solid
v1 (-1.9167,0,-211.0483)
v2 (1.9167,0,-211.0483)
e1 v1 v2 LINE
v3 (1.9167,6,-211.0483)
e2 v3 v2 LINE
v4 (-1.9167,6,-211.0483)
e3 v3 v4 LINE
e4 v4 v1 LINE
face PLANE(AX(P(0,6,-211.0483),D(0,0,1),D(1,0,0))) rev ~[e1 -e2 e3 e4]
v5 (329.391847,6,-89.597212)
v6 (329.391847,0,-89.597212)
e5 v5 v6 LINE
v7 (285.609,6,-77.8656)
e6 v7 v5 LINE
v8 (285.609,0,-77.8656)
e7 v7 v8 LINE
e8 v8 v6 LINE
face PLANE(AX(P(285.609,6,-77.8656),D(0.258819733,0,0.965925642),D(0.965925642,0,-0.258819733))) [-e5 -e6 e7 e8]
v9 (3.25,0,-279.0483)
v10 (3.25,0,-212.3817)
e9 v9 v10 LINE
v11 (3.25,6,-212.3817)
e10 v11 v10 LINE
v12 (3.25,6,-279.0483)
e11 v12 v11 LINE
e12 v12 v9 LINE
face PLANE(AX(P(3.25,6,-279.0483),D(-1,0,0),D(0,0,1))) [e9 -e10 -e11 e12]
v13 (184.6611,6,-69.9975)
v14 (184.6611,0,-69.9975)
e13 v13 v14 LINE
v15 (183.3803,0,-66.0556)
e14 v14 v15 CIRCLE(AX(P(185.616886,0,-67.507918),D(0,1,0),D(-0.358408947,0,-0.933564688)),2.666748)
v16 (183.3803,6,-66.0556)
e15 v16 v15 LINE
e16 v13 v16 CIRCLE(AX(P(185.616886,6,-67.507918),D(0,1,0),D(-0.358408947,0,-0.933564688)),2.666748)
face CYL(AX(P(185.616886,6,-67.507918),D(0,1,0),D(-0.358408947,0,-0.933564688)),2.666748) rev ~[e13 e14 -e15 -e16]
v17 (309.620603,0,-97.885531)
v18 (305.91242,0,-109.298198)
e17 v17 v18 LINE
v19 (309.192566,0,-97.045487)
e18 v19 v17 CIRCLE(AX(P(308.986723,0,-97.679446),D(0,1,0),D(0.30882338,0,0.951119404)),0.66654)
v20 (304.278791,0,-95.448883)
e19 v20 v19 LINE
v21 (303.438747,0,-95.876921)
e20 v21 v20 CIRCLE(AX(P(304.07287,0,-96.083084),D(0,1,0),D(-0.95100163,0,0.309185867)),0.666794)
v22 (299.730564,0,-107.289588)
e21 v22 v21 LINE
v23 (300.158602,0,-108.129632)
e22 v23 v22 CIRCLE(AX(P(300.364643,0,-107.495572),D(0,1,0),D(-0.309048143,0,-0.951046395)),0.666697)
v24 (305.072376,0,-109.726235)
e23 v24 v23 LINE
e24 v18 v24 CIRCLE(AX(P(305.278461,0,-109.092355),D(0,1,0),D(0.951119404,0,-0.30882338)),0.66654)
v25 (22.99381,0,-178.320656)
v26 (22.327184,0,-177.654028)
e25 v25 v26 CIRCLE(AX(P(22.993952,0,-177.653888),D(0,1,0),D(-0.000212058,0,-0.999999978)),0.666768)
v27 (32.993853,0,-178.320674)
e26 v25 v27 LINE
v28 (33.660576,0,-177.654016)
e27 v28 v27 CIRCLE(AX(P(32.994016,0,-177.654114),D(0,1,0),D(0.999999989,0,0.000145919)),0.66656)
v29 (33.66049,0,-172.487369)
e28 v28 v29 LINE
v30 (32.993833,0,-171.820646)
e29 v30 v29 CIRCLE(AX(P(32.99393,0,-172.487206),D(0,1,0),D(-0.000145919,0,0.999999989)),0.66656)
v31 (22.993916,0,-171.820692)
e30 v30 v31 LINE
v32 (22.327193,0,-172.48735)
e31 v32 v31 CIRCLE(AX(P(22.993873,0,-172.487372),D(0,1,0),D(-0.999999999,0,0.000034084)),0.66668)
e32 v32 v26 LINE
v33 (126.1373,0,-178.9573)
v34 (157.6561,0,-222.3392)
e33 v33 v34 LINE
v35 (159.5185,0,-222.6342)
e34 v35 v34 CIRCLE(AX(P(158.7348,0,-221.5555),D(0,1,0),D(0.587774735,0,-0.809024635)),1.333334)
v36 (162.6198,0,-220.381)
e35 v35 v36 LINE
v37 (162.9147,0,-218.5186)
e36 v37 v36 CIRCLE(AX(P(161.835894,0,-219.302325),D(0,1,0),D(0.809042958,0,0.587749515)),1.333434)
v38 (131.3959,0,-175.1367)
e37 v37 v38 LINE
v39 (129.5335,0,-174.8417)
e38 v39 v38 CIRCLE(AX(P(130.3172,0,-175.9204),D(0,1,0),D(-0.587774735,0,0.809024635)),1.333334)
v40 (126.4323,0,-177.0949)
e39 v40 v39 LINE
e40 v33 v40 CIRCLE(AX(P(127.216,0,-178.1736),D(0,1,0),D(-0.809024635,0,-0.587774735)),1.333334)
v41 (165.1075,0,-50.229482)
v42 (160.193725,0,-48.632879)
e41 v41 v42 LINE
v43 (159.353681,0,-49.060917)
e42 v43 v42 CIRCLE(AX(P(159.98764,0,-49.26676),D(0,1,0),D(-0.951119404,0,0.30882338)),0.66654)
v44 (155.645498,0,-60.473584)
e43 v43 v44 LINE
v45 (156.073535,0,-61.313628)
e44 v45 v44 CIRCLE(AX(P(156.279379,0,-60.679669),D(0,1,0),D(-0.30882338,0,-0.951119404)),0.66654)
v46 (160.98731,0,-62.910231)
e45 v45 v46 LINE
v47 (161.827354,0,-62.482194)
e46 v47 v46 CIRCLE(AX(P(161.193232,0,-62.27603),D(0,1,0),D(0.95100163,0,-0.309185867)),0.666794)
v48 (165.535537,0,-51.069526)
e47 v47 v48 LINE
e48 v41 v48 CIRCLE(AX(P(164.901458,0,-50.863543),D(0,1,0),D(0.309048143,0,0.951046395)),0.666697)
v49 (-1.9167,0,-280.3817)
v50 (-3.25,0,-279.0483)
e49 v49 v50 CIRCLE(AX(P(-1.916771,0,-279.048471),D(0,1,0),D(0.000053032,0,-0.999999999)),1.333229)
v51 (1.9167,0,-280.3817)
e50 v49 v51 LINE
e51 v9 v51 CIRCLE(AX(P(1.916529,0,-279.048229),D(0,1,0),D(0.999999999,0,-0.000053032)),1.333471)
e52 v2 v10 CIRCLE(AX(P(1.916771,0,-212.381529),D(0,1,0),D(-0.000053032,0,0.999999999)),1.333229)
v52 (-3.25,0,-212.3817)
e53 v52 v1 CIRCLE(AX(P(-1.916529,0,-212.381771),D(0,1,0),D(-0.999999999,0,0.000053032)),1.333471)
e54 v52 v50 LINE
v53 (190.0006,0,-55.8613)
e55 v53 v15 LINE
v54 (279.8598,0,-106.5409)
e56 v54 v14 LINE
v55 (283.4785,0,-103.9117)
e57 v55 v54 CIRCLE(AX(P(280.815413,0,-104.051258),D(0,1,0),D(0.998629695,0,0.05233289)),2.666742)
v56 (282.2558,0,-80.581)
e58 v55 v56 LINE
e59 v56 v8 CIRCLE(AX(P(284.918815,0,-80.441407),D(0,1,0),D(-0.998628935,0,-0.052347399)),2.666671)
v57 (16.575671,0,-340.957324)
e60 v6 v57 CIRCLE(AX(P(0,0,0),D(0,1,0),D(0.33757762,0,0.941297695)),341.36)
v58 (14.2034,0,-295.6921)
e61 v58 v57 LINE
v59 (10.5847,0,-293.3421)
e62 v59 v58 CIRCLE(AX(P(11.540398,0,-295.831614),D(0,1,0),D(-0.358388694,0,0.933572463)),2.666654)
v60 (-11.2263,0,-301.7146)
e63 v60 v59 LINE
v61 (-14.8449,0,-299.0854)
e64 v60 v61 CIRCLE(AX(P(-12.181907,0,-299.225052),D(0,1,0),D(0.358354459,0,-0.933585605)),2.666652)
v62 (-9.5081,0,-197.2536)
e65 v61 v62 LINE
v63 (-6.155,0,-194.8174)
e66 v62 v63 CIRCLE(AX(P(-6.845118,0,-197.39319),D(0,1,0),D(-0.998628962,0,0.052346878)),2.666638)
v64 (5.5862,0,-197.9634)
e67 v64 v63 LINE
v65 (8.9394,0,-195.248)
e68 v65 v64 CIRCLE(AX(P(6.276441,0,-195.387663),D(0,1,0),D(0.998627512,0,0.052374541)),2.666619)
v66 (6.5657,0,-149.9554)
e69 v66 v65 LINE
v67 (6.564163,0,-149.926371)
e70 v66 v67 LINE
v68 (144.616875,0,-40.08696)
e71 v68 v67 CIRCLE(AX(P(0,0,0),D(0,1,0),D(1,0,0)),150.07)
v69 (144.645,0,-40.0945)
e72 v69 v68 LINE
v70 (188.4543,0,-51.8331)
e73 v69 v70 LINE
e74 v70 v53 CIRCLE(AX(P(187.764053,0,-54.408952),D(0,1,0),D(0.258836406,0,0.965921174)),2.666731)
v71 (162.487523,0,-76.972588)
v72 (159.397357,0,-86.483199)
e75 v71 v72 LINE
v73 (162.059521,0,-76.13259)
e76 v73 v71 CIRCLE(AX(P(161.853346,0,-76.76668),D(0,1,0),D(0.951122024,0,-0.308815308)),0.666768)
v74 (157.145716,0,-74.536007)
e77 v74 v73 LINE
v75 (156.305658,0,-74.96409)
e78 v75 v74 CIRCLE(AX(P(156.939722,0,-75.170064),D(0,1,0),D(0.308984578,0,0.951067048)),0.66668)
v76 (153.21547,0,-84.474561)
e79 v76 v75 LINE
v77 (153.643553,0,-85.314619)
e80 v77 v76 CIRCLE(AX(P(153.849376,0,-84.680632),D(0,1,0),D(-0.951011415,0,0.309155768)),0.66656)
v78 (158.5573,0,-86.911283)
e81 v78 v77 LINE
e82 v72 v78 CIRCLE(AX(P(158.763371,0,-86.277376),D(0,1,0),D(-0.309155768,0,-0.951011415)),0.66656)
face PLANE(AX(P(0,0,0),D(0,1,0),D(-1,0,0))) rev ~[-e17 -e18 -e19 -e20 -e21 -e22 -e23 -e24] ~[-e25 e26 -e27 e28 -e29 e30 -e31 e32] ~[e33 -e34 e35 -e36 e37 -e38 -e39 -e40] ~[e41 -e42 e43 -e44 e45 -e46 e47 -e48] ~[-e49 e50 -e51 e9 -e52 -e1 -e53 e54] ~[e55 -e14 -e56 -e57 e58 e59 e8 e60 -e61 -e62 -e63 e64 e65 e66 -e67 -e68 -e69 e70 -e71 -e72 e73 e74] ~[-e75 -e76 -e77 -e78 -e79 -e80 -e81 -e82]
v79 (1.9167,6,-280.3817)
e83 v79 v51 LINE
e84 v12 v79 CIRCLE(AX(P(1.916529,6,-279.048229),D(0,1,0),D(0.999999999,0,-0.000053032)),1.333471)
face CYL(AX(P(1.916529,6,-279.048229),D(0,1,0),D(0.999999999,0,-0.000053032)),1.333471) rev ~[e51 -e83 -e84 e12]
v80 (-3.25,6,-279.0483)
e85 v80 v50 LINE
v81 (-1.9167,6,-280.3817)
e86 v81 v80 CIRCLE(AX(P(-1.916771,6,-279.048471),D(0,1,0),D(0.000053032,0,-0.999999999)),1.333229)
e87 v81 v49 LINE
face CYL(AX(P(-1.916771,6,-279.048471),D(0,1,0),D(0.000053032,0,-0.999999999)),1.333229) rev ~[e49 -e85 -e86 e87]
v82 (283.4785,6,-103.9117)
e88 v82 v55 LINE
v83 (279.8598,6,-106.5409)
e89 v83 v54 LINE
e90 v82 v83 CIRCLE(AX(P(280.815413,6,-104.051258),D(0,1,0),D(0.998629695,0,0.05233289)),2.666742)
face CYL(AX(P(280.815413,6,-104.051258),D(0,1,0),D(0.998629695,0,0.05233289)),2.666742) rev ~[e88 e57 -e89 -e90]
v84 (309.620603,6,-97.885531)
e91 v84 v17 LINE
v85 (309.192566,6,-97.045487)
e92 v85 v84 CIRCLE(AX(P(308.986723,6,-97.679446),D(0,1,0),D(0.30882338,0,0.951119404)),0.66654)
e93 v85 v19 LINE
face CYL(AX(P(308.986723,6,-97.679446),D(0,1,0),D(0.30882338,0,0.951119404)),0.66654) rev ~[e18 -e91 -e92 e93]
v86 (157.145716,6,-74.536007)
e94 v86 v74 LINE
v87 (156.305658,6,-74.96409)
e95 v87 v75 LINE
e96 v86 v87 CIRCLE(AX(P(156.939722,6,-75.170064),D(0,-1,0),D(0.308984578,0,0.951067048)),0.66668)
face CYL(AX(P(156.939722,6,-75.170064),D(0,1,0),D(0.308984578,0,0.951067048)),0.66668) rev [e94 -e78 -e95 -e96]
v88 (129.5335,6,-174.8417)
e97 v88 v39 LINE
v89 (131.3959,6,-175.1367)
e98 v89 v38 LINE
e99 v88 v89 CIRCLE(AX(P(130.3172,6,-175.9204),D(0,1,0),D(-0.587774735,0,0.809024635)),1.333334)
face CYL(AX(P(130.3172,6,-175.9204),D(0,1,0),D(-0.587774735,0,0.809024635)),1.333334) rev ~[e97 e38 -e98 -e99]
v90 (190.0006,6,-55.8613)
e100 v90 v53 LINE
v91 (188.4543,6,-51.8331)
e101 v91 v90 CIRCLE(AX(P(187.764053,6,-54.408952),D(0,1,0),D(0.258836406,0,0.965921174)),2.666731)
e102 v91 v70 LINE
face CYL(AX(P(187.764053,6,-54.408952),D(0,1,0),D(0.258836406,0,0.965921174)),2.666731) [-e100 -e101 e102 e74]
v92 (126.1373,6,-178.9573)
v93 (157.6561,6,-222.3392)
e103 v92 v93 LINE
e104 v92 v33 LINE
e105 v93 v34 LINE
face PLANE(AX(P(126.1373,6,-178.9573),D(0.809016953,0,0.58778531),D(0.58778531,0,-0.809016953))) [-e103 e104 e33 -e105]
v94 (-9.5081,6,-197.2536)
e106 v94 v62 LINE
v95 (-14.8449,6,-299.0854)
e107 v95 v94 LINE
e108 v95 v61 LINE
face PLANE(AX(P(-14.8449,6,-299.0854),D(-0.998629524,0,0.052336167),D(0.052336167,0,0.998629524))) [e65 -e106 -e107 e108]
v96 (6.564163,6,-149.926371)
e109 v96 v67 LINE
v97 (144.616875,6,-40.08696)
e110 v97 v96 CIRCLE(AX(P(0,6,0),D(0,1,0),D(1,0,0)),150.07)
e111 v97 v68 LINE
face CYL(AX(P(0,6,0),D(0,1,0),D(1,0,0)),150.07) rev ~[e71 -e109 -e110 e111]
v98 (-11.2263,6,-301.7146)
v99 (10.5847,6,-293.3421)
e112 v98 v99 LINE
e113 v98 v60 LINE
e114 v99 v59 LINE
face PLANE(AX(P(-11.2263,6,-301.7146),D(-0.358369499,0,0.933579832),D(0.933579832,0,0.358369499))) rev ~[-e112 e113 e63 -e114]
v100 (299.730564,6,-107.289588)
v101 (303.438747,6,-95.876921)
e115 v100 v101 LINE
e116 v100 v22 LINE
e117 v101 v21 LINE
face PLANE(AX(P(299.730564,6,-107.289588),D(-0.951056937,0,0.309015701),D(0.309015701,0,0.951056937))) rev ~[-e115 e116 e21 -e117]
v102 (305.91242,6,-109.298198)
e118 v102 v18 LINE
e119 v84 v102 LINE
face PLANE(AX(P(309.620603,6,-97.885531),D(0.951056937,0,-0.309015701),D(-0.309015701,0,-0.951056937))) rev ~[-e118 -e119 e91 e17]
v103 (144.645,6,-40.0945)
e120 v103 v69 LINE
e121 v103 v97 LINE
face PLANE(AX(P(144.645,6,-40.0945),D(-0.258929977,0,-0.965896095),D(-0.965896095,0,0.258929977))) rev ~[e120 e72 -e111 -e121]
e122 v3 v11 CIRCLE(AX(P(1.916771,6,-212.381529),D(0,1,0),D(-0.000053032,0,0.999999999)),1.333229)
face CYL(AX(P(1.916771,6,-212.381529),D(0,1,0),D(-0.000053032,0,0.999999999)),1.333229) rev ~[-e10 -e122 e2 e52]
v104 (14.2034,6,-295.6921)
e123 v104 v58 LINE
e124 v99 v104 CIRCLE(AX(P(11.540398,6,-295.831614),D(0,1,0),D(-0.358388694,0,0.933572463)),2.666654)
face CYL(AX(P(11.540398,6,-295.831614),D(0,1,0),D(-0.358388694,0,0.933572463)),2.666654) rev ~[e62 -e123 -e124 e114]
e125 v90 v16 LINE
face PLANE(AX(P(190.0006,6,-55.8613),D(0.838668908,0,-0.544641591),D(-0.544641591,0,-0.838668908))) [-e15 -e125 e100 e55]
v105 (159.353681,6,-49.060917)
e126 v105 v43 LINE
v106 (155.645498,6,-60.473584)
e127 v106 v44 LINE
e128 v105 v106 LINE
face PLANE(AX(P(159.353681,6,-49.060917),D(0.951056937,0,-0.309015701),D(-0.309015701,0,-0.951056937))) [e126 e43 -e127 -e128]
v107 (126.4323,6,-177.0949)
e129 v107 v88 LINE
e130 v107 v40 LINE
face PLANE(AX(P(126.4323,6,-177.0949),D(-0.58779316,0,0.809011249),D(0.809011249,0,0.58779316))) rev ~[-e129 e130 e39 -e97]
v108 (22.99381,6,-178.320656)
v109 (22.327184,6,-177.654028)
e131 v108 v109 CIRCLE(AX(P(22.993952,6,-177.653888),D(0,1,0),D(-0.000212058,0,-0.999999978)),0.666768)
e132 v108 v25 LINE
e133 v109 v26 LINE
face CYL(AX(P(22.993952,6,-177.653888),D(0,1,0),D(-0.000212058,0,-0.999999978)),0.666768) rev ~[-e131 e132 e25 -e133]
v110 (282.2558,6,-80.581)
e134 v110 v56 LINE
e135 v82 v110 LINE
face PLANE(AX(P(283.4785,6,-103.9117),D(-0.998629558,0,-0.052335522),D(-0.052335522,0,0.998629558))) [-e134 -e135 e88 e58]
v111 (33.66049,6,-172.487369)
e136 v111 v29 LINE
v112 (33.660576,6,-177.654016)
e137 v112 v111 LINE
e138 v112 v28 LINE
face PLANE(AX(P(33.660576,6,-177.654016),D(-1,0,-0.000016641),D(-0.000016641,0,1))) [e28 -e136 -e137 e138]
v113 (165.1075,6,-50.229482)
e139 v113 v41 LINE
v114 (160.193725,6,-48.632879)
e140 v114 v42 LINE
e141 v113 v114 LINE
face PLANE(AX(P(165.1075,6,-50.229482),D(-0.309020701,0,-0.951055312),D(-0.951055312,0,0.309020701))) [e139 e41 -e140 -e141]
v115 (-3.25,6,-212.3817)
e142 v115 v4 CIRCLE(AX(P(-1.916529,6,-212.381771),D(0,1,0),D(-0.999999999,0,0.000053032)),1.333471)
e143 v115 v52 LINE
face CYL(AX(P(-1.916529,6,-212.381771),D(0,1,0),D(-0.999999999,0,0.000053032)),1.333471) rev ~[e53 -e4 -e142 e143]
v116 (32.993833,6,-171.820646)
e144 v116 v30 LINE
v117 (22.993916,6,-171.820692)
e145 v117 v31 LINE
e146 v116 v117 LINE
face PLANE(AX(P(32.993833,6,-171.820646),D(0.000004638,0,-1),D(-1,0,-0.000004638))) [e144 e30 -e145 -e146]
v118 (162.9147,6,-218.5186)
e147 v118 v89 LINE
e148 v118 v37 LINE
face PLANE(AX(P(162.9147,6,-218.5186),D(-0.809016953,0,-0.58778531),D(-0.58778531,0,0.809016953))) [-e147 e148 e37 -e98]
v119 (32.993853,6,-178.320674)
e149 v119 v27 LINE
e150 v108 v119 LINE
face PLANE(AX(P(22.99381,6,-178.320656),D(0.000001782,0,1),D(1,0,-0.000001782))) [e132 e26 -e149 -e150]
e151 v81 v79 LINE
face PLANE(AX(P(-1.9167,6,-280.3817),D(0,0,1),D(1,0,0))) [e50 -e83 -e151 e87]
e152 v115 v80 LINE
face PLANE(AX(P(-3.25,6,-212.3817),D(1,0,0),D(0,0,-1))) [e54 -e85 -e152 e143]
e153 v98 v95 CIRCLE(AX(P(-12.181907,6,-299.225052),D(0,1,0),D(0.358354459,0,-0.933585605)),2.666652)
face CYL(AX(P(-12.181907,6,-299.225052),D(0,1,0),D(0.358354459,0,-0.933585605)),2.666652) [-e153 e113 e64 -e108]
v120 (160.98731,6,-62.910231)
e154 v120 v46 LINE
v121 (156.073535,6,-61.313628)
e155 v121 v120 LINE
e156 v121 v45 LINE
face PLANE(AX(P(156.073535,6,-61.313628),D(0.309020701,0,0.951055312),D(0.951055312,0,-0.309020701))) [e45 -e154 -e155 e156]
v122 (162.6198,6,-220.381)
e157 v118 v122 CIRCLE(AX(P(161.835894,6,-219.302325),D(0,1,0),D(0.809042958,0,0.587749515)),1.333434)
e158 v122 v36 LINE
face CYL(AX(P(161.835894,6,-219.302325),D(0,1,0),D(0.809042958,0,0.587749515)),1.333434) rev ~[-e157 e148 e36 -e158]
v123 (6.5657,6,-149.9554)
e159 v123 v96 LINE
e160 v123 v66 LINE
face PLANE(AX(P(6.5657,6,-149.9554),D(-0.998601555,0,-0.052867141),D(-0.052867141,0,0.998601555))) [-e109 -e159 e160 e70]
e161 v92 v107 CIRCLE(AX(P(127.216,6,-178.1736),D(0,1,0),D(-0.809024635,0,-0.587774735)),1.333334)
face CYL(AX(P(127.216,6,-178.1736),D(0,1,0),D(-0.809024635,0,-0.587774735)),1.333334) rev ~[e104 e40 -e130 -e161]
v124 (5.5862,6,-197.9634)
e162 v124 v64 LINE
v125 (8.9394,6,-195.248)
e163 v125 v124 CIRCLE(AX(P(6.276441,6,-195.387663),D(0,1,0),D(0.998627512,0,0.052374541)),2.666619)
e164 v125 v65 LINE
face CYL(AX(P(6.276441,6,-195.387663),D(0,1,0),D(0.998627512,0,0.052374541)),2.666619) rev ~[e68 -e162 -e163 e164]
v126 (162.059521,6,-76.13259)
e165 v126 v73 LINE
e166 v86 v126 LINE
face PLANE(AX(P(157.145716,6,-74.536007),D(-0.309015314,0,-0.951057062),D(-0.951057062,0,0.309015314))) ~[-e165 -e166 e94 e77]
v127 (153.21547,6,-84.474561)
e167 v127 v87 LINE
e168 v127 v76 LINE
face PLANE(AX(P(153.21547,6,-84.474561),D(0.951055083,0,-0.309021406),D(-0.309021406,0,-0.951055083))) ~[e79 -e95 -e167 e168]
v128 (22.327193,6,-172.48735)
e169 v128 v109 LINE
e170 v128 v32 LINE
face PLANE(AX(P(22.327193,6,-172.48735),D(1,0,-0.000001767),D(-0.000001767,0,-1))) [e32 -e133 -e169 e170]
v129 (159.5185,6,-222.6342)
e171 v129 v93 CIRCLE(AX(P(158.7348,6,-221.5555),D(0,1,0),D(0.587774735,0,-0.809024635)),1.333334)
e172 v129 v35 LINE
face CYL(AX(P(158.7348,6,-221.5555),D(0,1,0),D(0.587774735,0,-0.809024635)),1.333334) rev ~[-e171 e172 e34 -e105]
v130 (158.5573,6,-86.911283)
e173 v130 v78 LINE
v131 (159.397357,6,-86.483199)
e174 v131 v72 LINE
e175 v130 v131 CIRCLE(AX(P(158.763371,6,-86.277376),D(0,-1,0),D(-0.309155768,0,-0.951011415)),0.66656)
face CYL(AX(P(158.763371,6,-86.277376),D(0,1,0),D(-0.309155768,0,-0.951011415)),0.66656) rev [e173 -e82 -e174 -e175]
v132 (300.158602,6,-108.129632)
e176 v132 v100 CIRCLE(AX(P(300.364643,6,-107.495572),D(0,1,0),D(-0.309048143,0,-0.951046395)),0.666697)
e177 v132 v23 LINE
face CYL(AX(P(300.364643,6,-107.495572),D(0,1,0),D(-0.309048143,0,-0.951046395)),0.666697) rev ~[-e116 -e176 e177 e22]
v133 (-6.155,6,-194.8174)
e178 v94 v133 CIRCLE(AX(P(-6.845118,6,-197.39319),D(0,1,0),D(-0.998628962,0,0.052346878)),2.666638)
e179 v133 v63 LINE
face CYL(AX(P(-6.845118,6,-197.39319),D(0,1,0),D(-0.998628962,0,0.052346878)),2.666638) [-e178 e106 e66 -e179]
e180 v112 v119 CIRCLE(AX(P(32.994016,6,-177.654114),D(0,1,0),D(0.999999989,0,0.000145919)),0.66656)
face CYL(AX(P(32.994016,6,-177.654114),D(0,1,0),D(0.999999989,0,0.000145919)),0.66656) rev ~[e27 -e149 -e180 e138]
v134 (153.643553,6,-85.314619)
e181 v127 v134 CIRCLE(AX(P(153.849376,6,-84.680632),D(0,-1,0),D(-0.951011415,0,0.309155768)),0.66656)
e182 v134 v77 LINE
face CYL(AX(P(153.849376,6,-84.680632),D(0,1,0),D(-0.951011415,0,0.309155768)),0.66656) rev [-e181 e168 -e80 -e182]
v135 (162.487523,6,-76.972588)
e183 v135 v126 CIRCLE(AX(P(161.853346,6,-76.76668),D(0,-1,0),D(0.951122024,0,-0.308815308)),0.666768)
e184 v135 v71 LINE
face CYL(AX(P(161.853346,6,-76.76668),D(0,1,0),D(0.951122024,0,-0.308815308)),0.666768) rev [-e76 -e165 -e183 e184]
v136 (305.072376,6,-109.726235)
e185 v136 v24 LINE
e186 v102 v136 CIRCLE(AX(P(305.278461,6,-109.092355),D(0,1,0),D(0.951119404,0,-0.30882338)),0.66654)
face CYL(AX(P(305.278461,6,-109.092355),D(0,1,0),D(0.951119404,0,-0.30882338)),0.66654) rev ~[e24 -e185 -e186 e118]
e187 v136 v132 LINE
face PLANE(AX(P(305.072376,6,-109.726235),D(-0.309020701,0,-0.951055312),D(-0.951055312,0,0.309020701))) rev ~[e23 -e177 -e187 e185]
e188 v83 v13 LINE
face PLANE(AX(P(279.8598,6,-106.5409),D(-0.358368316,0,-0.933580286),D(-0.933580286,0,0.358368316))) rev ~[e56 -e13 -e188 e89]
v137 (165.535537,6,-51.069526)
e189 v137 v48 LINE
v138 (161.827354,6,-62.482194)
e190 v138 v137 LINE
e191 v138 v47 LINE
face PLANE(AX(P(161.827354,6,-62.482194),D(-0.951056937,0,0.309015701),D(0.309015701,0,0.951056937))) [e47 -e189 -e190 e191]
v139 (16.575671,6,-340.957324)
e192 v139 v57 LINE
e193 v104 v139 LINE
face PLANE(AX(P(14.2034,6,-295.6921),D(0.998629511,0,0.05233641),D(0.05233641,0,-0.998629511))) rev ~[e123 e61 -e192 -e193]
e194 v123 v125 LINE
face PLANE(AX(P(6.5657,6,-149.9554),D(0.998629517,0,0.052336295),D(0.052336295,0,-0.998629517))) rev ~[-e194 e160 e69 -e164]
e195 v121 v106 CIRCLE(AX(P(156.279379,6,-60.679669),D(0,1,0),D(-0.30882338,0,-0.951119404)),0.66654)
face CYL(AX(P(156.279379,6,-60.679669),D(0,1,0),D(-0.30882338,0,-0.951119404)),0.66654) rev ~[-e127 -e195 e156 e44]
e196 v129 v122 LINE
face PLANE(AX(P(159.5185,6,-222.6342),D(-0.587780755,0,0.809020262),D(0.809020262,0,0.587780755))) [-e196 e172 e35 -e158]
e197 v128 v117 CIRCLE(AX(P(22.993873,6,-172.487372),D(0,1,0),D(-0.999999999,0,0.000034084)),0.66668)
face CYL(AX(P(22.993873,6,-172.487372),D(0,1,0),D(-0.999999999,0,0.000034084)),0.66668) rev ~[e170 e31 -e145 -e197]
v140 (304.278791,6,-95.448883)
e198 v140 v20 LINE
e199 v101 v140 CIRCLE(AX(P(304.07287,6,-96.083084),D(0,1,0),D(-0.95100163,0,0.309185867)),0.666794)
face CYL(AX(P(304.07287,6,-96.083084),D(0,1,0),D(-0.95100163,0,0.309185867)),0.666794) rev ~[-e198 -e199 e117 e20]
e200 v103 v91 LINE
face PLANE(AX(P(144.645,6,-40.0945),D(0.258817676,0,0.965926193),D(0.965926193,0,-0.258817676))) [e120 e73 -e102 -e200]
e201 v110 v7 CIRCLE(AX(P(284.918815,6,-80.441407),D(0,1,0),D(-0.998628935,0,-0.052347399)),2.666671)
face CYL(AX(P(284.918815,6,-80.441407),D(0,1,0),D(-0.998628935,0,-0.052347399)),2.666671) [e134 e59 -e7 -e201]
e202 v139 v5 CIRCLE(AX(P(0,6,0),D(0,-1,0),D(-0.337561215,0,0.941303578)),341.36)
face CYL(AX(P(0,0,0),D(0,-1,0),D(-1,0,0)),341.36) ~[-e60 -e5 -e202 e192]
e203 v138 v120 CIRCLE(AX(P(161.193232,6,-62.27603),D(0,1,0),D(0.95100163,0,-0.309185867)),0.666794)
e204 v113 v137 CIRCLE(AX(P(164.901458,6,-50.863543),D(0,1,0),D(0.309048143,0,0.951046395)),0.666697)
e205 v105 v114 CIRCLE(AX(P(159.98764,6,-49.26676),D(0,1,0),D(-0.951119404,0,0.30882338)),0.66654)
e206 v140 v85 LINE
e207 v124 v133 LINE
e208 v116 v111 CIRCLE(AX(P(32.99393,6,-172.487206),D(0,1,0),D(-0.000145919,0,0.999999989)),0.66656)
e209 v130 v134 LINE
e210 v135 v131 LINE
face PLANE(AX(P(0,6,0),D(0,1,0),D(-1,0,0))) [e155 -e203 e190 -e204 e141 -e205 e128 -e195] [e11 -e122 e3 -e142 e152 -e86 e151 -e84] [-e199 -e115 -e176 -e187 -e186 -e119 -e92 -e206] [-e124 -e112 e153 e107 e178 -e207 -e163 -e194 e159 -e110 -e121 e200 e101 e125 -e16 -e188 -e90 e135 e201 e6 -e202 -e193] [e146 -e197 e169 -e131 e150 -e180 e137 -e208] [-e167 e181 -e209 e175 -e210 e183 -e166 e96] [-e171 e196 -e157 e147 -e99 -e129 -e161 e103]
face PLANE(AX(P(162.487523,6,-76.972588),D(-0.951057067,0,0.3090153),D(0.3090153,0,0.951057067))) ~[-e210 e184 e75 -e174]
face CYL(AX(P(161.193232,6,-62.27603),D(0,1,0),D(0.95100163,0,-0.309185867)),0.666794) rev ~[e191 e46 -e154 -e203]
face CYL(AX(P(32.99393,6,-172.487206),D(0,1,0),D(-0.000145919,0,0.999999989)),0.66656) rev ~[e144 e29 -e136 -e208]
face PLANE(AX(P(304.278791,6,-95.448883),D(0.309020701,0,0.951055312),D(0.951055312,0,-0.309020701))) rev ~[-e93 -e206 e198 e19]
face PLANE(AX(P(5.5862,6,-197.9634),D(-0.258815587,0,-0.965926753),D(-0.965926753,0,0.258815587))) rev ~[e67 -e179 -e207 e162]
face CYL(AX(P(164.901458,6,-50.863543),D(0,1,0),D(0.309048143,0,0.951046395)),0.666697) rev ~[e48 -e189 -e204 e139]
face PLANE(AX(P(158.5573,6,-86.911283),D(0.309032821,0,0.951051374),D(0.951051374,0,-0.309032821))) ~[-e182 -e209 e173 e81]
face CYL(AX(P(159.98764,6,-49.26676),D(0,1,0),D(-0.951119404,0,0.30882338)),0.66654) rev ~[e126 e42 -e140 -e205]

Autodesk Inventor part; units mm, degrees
ref_plane "YZ Plane" through (0, 0, 0) normal (1, 0, 0) x (0, 1, 0)
ref_plane "XZ Plane" through (0, 0, 0) normal (0, 1, 0) x (-1, 0, 0)
sketch "Sketch1" plane through (0, 0, 0) normal (0, 1, 0) x (-1, 0, 0)
  circle A0 centre (0, 0) radius 341.36
  circle A1 centre (0, 0) radius 150.07
  dimension "d84" = 300.14
  dimension "d85" = 682.72
extrude "Extrusion3" add sketch "Sketch1" along normal blind 6 contours A0 | A1
sketch "Sketch2" plane through (0, 6, 0) normal (0, 1, 0) x (1, 0, 0)
  circle A0 centre (0, 0) radius 245.715 construction
  line L0 (245.7148, 0.3131) -> (341.6521, -0.0088)
  line L1 (-0.6289, 279.0483) -> (-0.0524, 279.0483)
  line L2 (3.25, 279.0483) -> (3.25, 212.3817)
  line L3 (0.5377, 212.3817) -> (-0.051, 212.3817)
  line L4 (-3.25, 212.3817) -> (-3.25, 279.0483)
  arc A1 (-3.25, 212.3817) -> (-1.9167, 211.0483) centre (-1.9167, 212.3817) ccw
  arc A2 (1.9167, 211.0483) -> (3.25, 212.3817) centre (1.9167, 212.3817) ccw
  arc A3 (-1.9167, 280.3817) -> (-3.25, 279.0483) centre (-1.9167, 279.0483) ccw
  arc A4 (3.25, 279.0483) -> (1.9167, 280.3817) centre (1.9167, 279.0483) ccw
  line L5 (-1.9167, 280.3817) -> (1.9167, 280.3817)
  line L6 (-1.9167, 211.0483) -> (1.9167, 211.0483)
  line L7 (0, 0) -> (0, 212.3817)
  line L8 (0, 280.3817) -> (0, 341.36)
  line L9 (0, 211.0483) -> (0, 245.715) construction
  line L10 (0, 280.3817) -> (0, 245.715) construction
  arc A5 (-157.4948, 221.8428) -> (-159.3572, 222.1378) centre (-158.5735, 221.0591) ccw
  line L11 (-162.4585, 219.8846) -> (-159.3572, 222.1378)
  arc A6 (-162.4585, 219.8846) -> (-162.7534, 218.0222) centre (-161.6748, 218.8059) ccw
  line L12 (-160.9079, 221.0112) -> (-144.3647, 198.2416) construction
  line L13 (-160.633, 219.5628) -> (-160.1666, 219.9017)
  line L14 (-157.4948, 221.8428) -> (-125.976, 178.4609)
  line L15 (-131.2346, 174.6403) -> (-162.7534, 218.0222)
  line L16 (-127.8216, 175.4719) -> (-144.3647, 198.2416) construction
  line L17 (-128.1703, 176.8667) -> (-128.6466, 176.5206)
  arc A7 (-126.271, 176.5985) -> (-125.976, 178.4609) centre (-127.0547, 177.6772) ccw
  line L18 (-129.3722, 174.3453) -> (-126.271, 176.5985)
  arc A8 (-131.2346, 174.6403) -> (-129.3722, 174.3453) centre (-130.156, 175.424) ccw
  arc A9 (-259.6684, -81.8575) -> (-260.5244, -83.5376) centre (-259.2564, -83.1256) ccw
  line L19 (-259.3399, -87.1834) -> (-260.5244, -83.5376)
  arc A10 (-259.3399, -87.1834) -> (-257.6598, -88.0394) centre (-258.0718, -86.7713) ccw
  line L20 (-259.9321, -85.3605) -> (-233.1648, -76.6633) construction
  line L21 (-258.4697, -85.5466) -> (-258.6479, -84.9983)
  line L22 (-259.6684, -81.8575) -> (-208.6699, -65.2871)
  line L23 (-206.6613, -71.469) -> (-257.6598, -88.0394)
  line L24 (-206.3975, -67.966) -> (-233.1648, -76.6633) construction
  line L25 (-207.8317, -67.8666) -> (-207.6498, -68.4265)
  arc A11 (-206.9898, -66.1432) -> (-208.6699, -65.2871) centre (-208.2578, -66.5552) ccw
  line L26 (-205.8052, -69.7889) -> (-206.9898, -66.1432)
  arc A12 (-206.6613, -71.469) -> (-205.8052, -69.7889) centre (-207.0733, -70.2009) ccw
  arc A13 (258.6901, -87.4674) -> (260.3702, -86.6114) centre (259.1021, -86.1993) ccw
  line L27 (261.5548, -82.9657) -> (260.3702, -86.6114)
  arc A14 (261.5548, -82.9657) -> (260.6987, -81.2856) centre (260.2867, -82.5536) ccw
  line L28 (260.9625, -84.7885) -> (234.1951, -76.0913) construction
  line L29 (259.8887, -83.7783) -> (259.7106, -84.3266)
  line L30 (258.6901, -87.4674) -> (207.6916, -70.897)
  line L31 (209.7002, -64.7151) -> (260.6987, -81.2856)
  line L32 (207.4278, -67.394) -> (234.1951, -76.0913) construction
  line L33 (208.5297, -68.3175) -> (208.7116, -67.7576)
  arc A15 (206.8355, -69.2169) -> (207.6916, -70.897) centre (208.1036, -69.6289) ccw
  line L34 (208.0201, -65.5712) -> (206.8355, -69.2169)
  arc A16 (209.7002, -64.7151) -> (208.0201, -65.5712) centre (209.2882, -65.9832) ccw
  arc A17 (162.9147, 218.5186) -> (162.6198, 220.381) centre (161.836, 219.3023) ccw
  line L35 (159.5185, 222.6342) -> (162.6198, 220.381)
  arc A18 (159.5185, 222.6342) -> (157.6561, 222.3392) centre (158.7348, 221.5555) ccw
  line L36 (161.0691, 221.5076) -> (144.526, 198.7379) construction
  line L37 (159.7766, 220.7986) -> (160.243, 220.4597)
  line L38 (162.9147, 218.5186) -> (131.3959, 175.1367)
  line L39 (126.1373, 178.9573) -> (157.6561, 222.3392)
  line L40 (127.9829, 175.9683) -> (144.526, 198.7379) construction
  line L41 (129.2017, 176.7309) -> (128.7254, 177.0769)
  arc A19 (129.5335, 174.8417) -> (131.3959, 175.1367) centre (130.3172, 175.9204) ccw
  line L42 (126.4323, 177.0949) -> (129.5335, 174.8417)
  arc A20 (126.1373, 178.9573) -> (126.4323, 177.0949) centre (127.216, 178.1736) ccw
  line L43 (-265.5851, 85.6325) -> (-265.4069, 86.1808)
  line L44 (-267.2511, 84.8198) -> (-266.0665, 88.4656)
  line L45 (-201.3112, 63.3947) -> (-200.1266, 67.0404)
  arc A21 (-267.2511, 84.8198) -> (-266.395, 83.1397) centre (-265.983, 84.4078) ccw
  arc A22 (-264.3864, 89.3216) -> (-266.0665, 88.4656) centre (-264.7985, 88.0535) ccw
  line L46 (-266.6588, 86.6427) -> (-233.6889, 75.9301) construction
  line L47 (-202.9913, 62.5386) -> (-266.395, 83.1397)
  line L48 (-264.3864, 89.3216) -> (-200.9827, 68.7205)
  line L49 (-200.7189, 65.2175) -> (-233.6889, 75.9301) construction
  arc A23 (-202.9913, 62.5386) -> (-201.3112, 63.3947) centre (-202.5793, 63.8067) ccw
  arc A24 (-200.1266, 67.0404) -> (-200.9827, 68.7205) centre (-201.3947, 67.4524) ccw
  line L50 (-201.8208, 66.141) -> (-202.0027, 65.5811)
  line L51 (-163.5117, -226.1245) -> (-163.9781, -225.7857)
  line L52 (-163.2536, -227.9601) -> (-166.3548, -225.7069)
  line L53 (-122.5005, -171.8683) -> (-125.6017, -169.6151)
  arc A25 (-163.2536, -227.9601) -> (-161.3912, -227.6651) centre (-162.4699, -226.8814) ccw
  arc A26 (-166.6498, -223.8445) -> (-166.3548, -225.7069) centre (-165.5711, -224.6283) ccw
  line L54 (-164.8042, -226.8335) -> (-144.4277, -198.7876) construction
  line L55 (-122.2055, -173.7307) -> (-161.3912, -227.6651)
  line L56 (-166.6498, -223.8445) -> (-127.4641, -169.9101)
  line L57 (-124.0511, -170.7417) -> (-144.4277, -198.7876) construction
  arc A27 (-122.2055, -173.7307) -> (-122.5005, -171.8683) centre (-123.2842, -172.947) ccw
  arc A28 (-125.6017, -169.6151) -> (-127.4641, -169.9101) centre (-126.3854, -170.6938) ccw
  line L58 (-125.2699, -171.5043) -> (-124.7936, -171.8503)
  line L59 (164.5293, -225.3852) -> (164.0629, -225.724)
  line L60 (166.3548, -225.7069) -> (163.2536, -227.9601)
  line L61 (125.6017, -169.6151) -> (122.5005, -171.8683)
  arc A29 (166.3548, -225.7069) -> (166.6498, -223.8445) centre (165.5711, -224.6283) ccw
  arc A30 (161.3912, -227.6651) -> (163.2536, -227.9601) centre (162.4699, -226.8814) ccw
  line L62 (164.8042, -226.8335) -> (144.4277, -198.7876) construction
  line L63 (127.4641, -169.9101) -> (166.6498, -223.8445)
  line L64 (161.3912, -227.6651) -> (122.2055, -173.7307)
  line L65 (124.0511, -170.7417) -> (144.4277, -198.7876) construction
  arc A31 (127.4641, -169.9101) -> (125.6017, -169.6151) centre (126.3854, -170.6938) ccw
  arc A32 (122.5005, -171.8683) -> (122.2055, -173.7307) centre (123.2842, -172.947) ccw
  line L66 (124.3998, -172.1365) -> (124.8761, -171.7904)
  line L67 (265.1964, 86.8288) -> (265.3745, 86.2805)
  line L68 (266.0665, 88.4656) -> (267.2511, 84.8198)
  line L69 (200.1266, 67.0404) -> (201.3112, 63.3947)
  arc A33 (266.0665, 88.4656) -> (264.3864, 89.3216) centre (264.7985, 88.0535) ccw
  arc A34 (266.395, 83.1397) -> (267.2511, 84.8198) centre (265.983, 84.4078) ccw
  line L70 (266.6588, 86.6427) -> (233.6889, 75.9301) construction
  line L71 (200.9827, 68.7205) -> (264.3864, 89.3216)
  line L72 (266.395, 83.1397) -> (202.9913, 62.5386)
  line L73 (200.7189, 65.2175) -> (233.6889, 75.9301) construction
  arc A35 (200.9827, 68.7205) -> (200.1266, 67.0404) centre (201.3947, 67.4524) ccw
  arc A36 (201.3112, 63.3947) -> (202.9913, 62.5386) centre (202.5793, 63.8067) ccw
  line L74 (202.1531, 65.1181) -> (201.9712, 65.678)
  line L75 (236.8664, -101.279) -> (236.7913, -101.5102)
  point P0 (-128.6053, 176.5506)
  point P1 (-207.6656, -68.3781)
  point P2 (208.6959, -67.8061)
  point P3 (128.7666, 177.047)
  point P4 (-201.987, 65.6295)
  point P5 (-124.8348, -171.8204)
  point P6 (124.8348, -171.8204)
  point P7 (201.987, 65.6295)
  dimension "d21" = 6.5
  dimension "d23" = 66.6667
  dimension "d24" = 2.6667
  dimension "d25" = 2.6667
  dimension "d32" = 1.3333
  dimension "d33" = 1.3333
  dimension "d41" = 90
  dimension "d42" = 3.25
  dimension "d43" = 90
  dimension "d49" = 360
  dimension "d86" = 491.43
  dimension "d96" = 0.243
extrude "Extrusion4" cut sketch "Sketch2" against normal through all
sketch "Sketch3" plane through (0, 6, 0) normal (0, 1, 0) x (1, 0, 0)
  arc A0 (-115.2299, -321.3234) -> (115.2355, -321.3214) centre (0, 0) ccw
  arc A1 (-77.7244, -128.3741) -> (77.7297, -128.3709) centre (0, 0) ccw
  line L0 (-122.1811, -173.696) -> (-161.3589, -227.6196)
  line L1 (-115.2299, -321.3234) -> (-77.7244, -128.3741)
  line L2 (0, 0) -> (0, -341.2918)
  line L3 (115.2355, -321.3214) -> (77.7297, -128.3709)
  line L4 (161.3912, -227.6651) -> (122.2055, -173.7307) projected
  dimension "d52" = 25
  dimension "d87" = 150.07
  dimension "d88" = 341.36
  dimension "d89" = 25
  dimension "d90" = 11
  dimension "d91" = 11
extrude "Extrusion5" cut sketch "Sketch3" against normal blind 10
sketch "Sketch5" plane through (0, 6, 0) normal (0, 1, 0) x (1, 0, 0)
  line L0 (3.25, 279.0483) -> (3.25, 212.3817) projected
  line L1 (5.5862, 197.9634) -> (-6.155, 194.8174)
  line L2 (-11.2263, 301.7146) -> (10.5847, 293.3421)
  line L3 (6.5657, 149.9554) -> (8.9394, 195.248)
  line L4 (14.2034, 295.6921) -> (16.5771, 340.9846)
  arc A0 (10.5847, 293.3421) -> (14.2034, 295.6921) centre (11.5404, 295.8316) ccw
  arc A1 (8.9394, 195.248) -> (5.5862, 197.9634) centre (6.2763, 195.3876) ccw
  arc A2 (-11.2263, 301.7146) -> (-14.8449, 299.0854) centre (-12.1819, 299.225) ccw
  line L5 (-3.25, 212.3817) -> (-3.25, 279.0483) projected
  line L6 (-14.8449, 299.0854) -> (-9.5081, 197.2536)
  arc A3 (-9.5081, 197.2536) -> (-6.155, 194.8174) centre (-6.8451, 197.3932) ccw
  line L7 (-1.9167, 211.0483) -> (1.9167, 211.0483) projected
  line L8 (1.9167, 280.3817) -> (-1.9167, 280.3817) projected
  arc A4 (115.2355, -321.3214) -> (-115.2299, -321.3234) centre (0, 0) ccw
  line L9 (16.5771, 340.9846) -> (16.5774, 340.9903)
  arc A5 (-190.5375, 51.9119) -> (-187.1843, 54.3482) centre (-189.8473, 54.4877) ccw
  line L10 (-186.5481, 66.4868) -> (-187.1843, 54.3482)
  arc A6 (-182.9295, 68.8368) -> (-186.5481, 66.4868) centre (-183.8851, 66.3472) ccw
  arc A7 (-275.714, 100.7144) -> (-276.8308, 104.8821) centre (-277.7864, 102.3926) ccw
  line L11 (-289.0345, 78.3041) -> (-190.5375, 51.9119)
  arc A8 (-290.4167, 82.5581) -> (-289.0345, 78.3041) centre (-288.3443, 80.8799) ccw
  line L12 (-290.4167, 82.5581) -> (-275.714, 100.7144)
  line L13 (-276.8308, 104.8821) -> (-319.1731, 121.1358)
  line L14 (-140.5872, 52.5831) -> (-182.9295, 68.8368)
  line L15 (-319.1731, 121.1358) -> (-319.1784, 121.1378)
  arc A9 (184.6611, 69.9975) -> (183.3803, 66.0556) centre (185.6168, 67.508) ccw
  line L16 (190.0006, 55.8613) -> (183.3803, 66.0556)
  arc A10 (188.4543, 51.8331) -> (190.0006, 55.8613) centre (187.7641, 54.4089) ccw
  arc A11 (282.2558, 80.581) -> (285.609, 77.8656) centre (284.9188, 80.4414) ccw
  line L17 (279.8598, 106.5409) -> (184.6611, 69.9975)
  arc A12 (283.4785, 103.9117) -> (279.8598, 106.5409) centre (280.8155, 104.0513) ccw
  line L18 (283.4785, 103.9117) -> (282.2558, 80.581)
  line L19 (285.609, 77.8656) -> (329.4183, 89.6043)
  line L20 (144.645, 40.0945) -> (188.4543, 51.8331)
  line L21 (329.4183, 89.6043) -> (329.4238, 89.6058)
  circle A13 centre (0, 0) radius 150.07
  line L22 (-140.5872, 52.5831) -> (-140.5479, 52.568)
  line L23 (144.645, 40.0945) -> (144.5122, 40.0589)
  line L24 (6.5657, 149.9554) -> (6.5621, 149.8874)
  arc A14 (-77.7244, -128.3741) -> (77.7297, -128.3709) centre (0, 0) ccw projected
  arc A15 (115.2355, -321.3214) -> (-115.2299, -321.3234) centre (0, 0) ccw projected
  line L25 (77.7297, -128.3709) -> (115.2355, -321.3214)
  line L26 (-77.7244, -128.3741) -> (-115.2299, -321.3234)
  point P0 (-77.7399, -128.3998)
  point P1 (77.7399, -128.3998)
  point P2 (-319.1475, 121.126)
  point P3 (-140.56, 52.5727)
  point P4 (6.5642, 149.9264)
  point P5 (16.5757, 340.9573)
  point P6 (329.3918, 89.5972)
  point P7 (144.6169, 40.0869)
  dimension "d63" = 2.6667
  dimension "d64" = 3
  dimension "d66" = 3
  dimension "d67" = 2.6667
  dimension "d68" = 2.6667
  dimension "d70" = 72
  dimension "d71" = 72
  dimension "d94" = 300.14
  dimension "d95" = 682.72
sketch "Sketch6" plane through (0, 6, 0) normal (0, 1, 0) x (1, 0, 0)
  line L0 (188.7727, -264.2184) -> (198.4809, -257.165)
  line L1 (194.6603, -251.9064) -> (184.9521, -258.9598)
  line L2 (161.3912, -227.6651) -> (122.2055, -173.7307) projected
  line L3 (166.3548, -225.7069) -> (163.2536, -227.9601) projected
  arc A0 (195.5915, -252.0539) -> (194.6603, -251.9064) centre (195.0522, -252.4457) ccw
  arc A1 (198.4809, -257.165) -> (198.6284, -256.2338) centre (198.0891, -256.6256) ccw
  arc A2 (187.8415, -264.0709) -> (188.7727, -264.2184) centre (188.3809, -263.6791) ccw
  arc A3 (184.9521, -258.9598) -> (184.8046, -259.891) centre (185.344, -259.4991) ccw
  line L4 (184.8046, -259.891) -> (187.8415, -264.0709)
  line L5 (198.6284, -256.2338) -> (195.5915, -252.0539)
  line L6 (122.2055, -173.7307) -> (161.3912, -227.6651) projected
  line L7 (141.7983, -200.6979) -> (147.057, -196.8773)
  line L8 (166.6498, -223.8445) -> (127.4641, -169.9101) projected
  line L9 (95.9027, -136.3937) -> (105.6109, -129.3403)
  line L10 (109.4315, -134.5989) -> (99.7233, -141.6523)
  arc A4 (109.4315, -134.5989) -> (109.579, -133.6677) centre (109.0396, -134.0596) ccw
  arc A5 (106.5421, -129.4878) -> (105.6109, -129.3403) centre (106.0027, -129.8796) ccw
  arc A6 (95.9027, -136.3937) -> (95.7552, -137.3249) centre (96.2945, -136.9331) ccw
  arc A7 (98.7921, -141.5048) -> (99.7233, -141.6523) centre (99.3314, -141.113) ccw
  line L11 (98.7921, -141.5048) -> (95.7552, -137.3249)
  line L12 (106.5421, -129.4878) -> (109.579, -133.6677)
  point P0 (0, 0)
  dimension "d104" = 6.5
  dimension "d105" = 12
  dimension "d108" = 1.3333
  dimension "d109" = 1.3333
  dimension "d110" = 1.3333
  dimension "d111" = 1.3333
  dimension "d112" = 0
  dimension "d149" = 145
  dimension "d150" = 90
  dimension "d151" = 90
  dimension "d152" = 90
  dimension "d153" = 90
extrude "Extrusion7" cut sketch "Sketch6" against normal through all
sketch "Sketch7" plane through (0, 6, 0) normal (0, 1, 0) x (1, 0, 0)
  line L0 (119.5964, -125.4786) -> (127.6865, -119.6008)
  line L1 (106.4838, -136.3528) -> (96.7756, -143.4062)
  line L2 (128.6177, -119.7483) -> (131.6546, -123.9282)
  line L3 (131.5071, -124.8594) -> (123.417, -130.7373)
  line L4 (122.4858, -130.5898) -> (119.4489, -126.4098)
  line L5 (103.5944, -131.2417) -> (106.6313, -135.4216)
  arc A0 (119.5964, -125.4786) -> (119.4489, -126.4098) centre (119.9882, -126.018) ccw
  arc A1 (122.4858, -130.5898) -> (123.417, -130.7373) centre (123.0251, -130.1979) ccw
  arc A2 (128.6177, -119.7483) -> (127.6865, -119.6008) centre (128.0784, -120.1401) ccw
  arc A3 (131.5071, -124.8594) -> (131.6546, -123.9282) centre (131.1153, -124.3201) ccw
  line L6 (173.6068, 21.7165) -> (170.5167, 31.227)
  line L7 (170.9447, 32.0671) -> (175.8585, 33.6637)
  line L8 (176.6985, 33.2357) -> (179.7887, 23.7251)
  line L9 (179.3607, 22.885) -> (174.4469, 21.2885)
  arc A4 (173.6068, 21.7165) -> (174.4469, 21.2885) centre (174.2409, 21.9225) ccw
  arc A5 (179.3607, 22.885) -> (179.7887, 23.7251) centre (179.1547, 23.5191) ccw
  arc A6 (170.9447, 32.0671) -> (170.5167, 31.227) centre (171.1507, 31.4331) ccw
  arc A7 (176.6985, 33.2357) -> (175.8585, 33.6637) centre (176.0645, 33.0296) ccw
  line L10 (188.4543, 51.8331) -> (144.6169, 40.0869) projected
  line L11 (201.3112, 63.3947) -> (200.1266, 67.0404) projected
  line L12 (179.8921, 12.7927) -> (180.0981, 12.1586)
  line L13 (183.5904, 29.3861) -> (183.8471, 29.4696)
  point P0 (0, 0)
  dimension "d116" = 1.3333
  dimension "d117" = 1.3333
  dimension "d119" = 1.3333
  dimension "d120" = 1.3333
  dimension "d121" = 6.5
  dimension "d122" = 10
  dimension "d126" = 1.09
  dimension "d127" = 16.3333
  dimension "d128" = 1.3333
  dimension "d129" = 1.3333
  dimension "d130" = 1.3333
  dimension "d131" = 1.3333
  dimension "d132" = 6.5
  dimension "d133" = 10
  dimension "d135" = 3
  dimension "d140" = 0.6667
  dimension "d148" = 0.27
extrude "Extrusion8" cut sketch "Sketch7" against normal through all contours L0 A2 L2 A3 L3 A1 L4 A0
extrude "Extrusion9" cut sketch "Sketch7" against normal through all contours L6 A6 L7 A7 L8 A5 L9 A4
ref_plane "Work Plane1" through (265.3907, 0, -86.2307) normal (0.309, 0, 0.9511) x (0.9511, 0, -0.309)
mirror "Mirror2" about plane through (265.3907, 0, -86.2307) normal (0.309, 0, 0.9511) of "Extrusion9"
mirror "Mirror1" about plane through (0, 0, 0) normal (1, 0, 0) of "Extrusion8", "Extrusion9", "Mirror2"
pattern_circular "Circular Pattern1" count 2 over 72 about axis through (0, -10, 0) along (0, 1, 0) of "Extrusion9", "Mirror2"
pattern_circular "Circular Pattern2" count 2 over 72 about axis through (0, -10, 0) along (0, 1, 0) of "Extrusion7"
pattern_circular "Circular Pattern3" count 2 over 144 about axis through (0, -10, 0) along (0, 1, 0) of "Extrusion7"
mirror "Mirror3" about plane through (0, 0, 0) normal (1, 0, 0) of "Extrusion7", "Circular Pattern2"
extrude "Extrusion10" cut sketch "Sketch5" against normal through all contours A1 L3 L24 A13 L22 L14 A6 L10 A5 L11 A8 L12 A7 L13 A4 L4 A0 L2 A2 L6 A3 L1 | A13 | L23 L20 A10 L16 A9 L17 A12 L18 A11 L19 A4 L25 A13 | A13 L26 A4 L13 A7 L12 A8 L11 A5 L10 A6 L14 L22
equation "\"BendRadius\" = Thickness"
equation "\"BendReliefWidth\" = Thickness"
equation "\"BendReliefDepth\" = 0.5 * Thickness"
equation "\"CornerReliefSize\" = 4 * Thickness"
equation "\"MinimumRemnant\" = 2 * Thickness"
equation "\"TransitionRadius\" = BendRadius"
equation "\"JacobiRadiusSize\" = BendRadius"
equation "\"GapSize\" = Thickness"
equation "\"Thickness\" = 0.5"
properties part number "Ring B-3" material "Wood (Maple)"
